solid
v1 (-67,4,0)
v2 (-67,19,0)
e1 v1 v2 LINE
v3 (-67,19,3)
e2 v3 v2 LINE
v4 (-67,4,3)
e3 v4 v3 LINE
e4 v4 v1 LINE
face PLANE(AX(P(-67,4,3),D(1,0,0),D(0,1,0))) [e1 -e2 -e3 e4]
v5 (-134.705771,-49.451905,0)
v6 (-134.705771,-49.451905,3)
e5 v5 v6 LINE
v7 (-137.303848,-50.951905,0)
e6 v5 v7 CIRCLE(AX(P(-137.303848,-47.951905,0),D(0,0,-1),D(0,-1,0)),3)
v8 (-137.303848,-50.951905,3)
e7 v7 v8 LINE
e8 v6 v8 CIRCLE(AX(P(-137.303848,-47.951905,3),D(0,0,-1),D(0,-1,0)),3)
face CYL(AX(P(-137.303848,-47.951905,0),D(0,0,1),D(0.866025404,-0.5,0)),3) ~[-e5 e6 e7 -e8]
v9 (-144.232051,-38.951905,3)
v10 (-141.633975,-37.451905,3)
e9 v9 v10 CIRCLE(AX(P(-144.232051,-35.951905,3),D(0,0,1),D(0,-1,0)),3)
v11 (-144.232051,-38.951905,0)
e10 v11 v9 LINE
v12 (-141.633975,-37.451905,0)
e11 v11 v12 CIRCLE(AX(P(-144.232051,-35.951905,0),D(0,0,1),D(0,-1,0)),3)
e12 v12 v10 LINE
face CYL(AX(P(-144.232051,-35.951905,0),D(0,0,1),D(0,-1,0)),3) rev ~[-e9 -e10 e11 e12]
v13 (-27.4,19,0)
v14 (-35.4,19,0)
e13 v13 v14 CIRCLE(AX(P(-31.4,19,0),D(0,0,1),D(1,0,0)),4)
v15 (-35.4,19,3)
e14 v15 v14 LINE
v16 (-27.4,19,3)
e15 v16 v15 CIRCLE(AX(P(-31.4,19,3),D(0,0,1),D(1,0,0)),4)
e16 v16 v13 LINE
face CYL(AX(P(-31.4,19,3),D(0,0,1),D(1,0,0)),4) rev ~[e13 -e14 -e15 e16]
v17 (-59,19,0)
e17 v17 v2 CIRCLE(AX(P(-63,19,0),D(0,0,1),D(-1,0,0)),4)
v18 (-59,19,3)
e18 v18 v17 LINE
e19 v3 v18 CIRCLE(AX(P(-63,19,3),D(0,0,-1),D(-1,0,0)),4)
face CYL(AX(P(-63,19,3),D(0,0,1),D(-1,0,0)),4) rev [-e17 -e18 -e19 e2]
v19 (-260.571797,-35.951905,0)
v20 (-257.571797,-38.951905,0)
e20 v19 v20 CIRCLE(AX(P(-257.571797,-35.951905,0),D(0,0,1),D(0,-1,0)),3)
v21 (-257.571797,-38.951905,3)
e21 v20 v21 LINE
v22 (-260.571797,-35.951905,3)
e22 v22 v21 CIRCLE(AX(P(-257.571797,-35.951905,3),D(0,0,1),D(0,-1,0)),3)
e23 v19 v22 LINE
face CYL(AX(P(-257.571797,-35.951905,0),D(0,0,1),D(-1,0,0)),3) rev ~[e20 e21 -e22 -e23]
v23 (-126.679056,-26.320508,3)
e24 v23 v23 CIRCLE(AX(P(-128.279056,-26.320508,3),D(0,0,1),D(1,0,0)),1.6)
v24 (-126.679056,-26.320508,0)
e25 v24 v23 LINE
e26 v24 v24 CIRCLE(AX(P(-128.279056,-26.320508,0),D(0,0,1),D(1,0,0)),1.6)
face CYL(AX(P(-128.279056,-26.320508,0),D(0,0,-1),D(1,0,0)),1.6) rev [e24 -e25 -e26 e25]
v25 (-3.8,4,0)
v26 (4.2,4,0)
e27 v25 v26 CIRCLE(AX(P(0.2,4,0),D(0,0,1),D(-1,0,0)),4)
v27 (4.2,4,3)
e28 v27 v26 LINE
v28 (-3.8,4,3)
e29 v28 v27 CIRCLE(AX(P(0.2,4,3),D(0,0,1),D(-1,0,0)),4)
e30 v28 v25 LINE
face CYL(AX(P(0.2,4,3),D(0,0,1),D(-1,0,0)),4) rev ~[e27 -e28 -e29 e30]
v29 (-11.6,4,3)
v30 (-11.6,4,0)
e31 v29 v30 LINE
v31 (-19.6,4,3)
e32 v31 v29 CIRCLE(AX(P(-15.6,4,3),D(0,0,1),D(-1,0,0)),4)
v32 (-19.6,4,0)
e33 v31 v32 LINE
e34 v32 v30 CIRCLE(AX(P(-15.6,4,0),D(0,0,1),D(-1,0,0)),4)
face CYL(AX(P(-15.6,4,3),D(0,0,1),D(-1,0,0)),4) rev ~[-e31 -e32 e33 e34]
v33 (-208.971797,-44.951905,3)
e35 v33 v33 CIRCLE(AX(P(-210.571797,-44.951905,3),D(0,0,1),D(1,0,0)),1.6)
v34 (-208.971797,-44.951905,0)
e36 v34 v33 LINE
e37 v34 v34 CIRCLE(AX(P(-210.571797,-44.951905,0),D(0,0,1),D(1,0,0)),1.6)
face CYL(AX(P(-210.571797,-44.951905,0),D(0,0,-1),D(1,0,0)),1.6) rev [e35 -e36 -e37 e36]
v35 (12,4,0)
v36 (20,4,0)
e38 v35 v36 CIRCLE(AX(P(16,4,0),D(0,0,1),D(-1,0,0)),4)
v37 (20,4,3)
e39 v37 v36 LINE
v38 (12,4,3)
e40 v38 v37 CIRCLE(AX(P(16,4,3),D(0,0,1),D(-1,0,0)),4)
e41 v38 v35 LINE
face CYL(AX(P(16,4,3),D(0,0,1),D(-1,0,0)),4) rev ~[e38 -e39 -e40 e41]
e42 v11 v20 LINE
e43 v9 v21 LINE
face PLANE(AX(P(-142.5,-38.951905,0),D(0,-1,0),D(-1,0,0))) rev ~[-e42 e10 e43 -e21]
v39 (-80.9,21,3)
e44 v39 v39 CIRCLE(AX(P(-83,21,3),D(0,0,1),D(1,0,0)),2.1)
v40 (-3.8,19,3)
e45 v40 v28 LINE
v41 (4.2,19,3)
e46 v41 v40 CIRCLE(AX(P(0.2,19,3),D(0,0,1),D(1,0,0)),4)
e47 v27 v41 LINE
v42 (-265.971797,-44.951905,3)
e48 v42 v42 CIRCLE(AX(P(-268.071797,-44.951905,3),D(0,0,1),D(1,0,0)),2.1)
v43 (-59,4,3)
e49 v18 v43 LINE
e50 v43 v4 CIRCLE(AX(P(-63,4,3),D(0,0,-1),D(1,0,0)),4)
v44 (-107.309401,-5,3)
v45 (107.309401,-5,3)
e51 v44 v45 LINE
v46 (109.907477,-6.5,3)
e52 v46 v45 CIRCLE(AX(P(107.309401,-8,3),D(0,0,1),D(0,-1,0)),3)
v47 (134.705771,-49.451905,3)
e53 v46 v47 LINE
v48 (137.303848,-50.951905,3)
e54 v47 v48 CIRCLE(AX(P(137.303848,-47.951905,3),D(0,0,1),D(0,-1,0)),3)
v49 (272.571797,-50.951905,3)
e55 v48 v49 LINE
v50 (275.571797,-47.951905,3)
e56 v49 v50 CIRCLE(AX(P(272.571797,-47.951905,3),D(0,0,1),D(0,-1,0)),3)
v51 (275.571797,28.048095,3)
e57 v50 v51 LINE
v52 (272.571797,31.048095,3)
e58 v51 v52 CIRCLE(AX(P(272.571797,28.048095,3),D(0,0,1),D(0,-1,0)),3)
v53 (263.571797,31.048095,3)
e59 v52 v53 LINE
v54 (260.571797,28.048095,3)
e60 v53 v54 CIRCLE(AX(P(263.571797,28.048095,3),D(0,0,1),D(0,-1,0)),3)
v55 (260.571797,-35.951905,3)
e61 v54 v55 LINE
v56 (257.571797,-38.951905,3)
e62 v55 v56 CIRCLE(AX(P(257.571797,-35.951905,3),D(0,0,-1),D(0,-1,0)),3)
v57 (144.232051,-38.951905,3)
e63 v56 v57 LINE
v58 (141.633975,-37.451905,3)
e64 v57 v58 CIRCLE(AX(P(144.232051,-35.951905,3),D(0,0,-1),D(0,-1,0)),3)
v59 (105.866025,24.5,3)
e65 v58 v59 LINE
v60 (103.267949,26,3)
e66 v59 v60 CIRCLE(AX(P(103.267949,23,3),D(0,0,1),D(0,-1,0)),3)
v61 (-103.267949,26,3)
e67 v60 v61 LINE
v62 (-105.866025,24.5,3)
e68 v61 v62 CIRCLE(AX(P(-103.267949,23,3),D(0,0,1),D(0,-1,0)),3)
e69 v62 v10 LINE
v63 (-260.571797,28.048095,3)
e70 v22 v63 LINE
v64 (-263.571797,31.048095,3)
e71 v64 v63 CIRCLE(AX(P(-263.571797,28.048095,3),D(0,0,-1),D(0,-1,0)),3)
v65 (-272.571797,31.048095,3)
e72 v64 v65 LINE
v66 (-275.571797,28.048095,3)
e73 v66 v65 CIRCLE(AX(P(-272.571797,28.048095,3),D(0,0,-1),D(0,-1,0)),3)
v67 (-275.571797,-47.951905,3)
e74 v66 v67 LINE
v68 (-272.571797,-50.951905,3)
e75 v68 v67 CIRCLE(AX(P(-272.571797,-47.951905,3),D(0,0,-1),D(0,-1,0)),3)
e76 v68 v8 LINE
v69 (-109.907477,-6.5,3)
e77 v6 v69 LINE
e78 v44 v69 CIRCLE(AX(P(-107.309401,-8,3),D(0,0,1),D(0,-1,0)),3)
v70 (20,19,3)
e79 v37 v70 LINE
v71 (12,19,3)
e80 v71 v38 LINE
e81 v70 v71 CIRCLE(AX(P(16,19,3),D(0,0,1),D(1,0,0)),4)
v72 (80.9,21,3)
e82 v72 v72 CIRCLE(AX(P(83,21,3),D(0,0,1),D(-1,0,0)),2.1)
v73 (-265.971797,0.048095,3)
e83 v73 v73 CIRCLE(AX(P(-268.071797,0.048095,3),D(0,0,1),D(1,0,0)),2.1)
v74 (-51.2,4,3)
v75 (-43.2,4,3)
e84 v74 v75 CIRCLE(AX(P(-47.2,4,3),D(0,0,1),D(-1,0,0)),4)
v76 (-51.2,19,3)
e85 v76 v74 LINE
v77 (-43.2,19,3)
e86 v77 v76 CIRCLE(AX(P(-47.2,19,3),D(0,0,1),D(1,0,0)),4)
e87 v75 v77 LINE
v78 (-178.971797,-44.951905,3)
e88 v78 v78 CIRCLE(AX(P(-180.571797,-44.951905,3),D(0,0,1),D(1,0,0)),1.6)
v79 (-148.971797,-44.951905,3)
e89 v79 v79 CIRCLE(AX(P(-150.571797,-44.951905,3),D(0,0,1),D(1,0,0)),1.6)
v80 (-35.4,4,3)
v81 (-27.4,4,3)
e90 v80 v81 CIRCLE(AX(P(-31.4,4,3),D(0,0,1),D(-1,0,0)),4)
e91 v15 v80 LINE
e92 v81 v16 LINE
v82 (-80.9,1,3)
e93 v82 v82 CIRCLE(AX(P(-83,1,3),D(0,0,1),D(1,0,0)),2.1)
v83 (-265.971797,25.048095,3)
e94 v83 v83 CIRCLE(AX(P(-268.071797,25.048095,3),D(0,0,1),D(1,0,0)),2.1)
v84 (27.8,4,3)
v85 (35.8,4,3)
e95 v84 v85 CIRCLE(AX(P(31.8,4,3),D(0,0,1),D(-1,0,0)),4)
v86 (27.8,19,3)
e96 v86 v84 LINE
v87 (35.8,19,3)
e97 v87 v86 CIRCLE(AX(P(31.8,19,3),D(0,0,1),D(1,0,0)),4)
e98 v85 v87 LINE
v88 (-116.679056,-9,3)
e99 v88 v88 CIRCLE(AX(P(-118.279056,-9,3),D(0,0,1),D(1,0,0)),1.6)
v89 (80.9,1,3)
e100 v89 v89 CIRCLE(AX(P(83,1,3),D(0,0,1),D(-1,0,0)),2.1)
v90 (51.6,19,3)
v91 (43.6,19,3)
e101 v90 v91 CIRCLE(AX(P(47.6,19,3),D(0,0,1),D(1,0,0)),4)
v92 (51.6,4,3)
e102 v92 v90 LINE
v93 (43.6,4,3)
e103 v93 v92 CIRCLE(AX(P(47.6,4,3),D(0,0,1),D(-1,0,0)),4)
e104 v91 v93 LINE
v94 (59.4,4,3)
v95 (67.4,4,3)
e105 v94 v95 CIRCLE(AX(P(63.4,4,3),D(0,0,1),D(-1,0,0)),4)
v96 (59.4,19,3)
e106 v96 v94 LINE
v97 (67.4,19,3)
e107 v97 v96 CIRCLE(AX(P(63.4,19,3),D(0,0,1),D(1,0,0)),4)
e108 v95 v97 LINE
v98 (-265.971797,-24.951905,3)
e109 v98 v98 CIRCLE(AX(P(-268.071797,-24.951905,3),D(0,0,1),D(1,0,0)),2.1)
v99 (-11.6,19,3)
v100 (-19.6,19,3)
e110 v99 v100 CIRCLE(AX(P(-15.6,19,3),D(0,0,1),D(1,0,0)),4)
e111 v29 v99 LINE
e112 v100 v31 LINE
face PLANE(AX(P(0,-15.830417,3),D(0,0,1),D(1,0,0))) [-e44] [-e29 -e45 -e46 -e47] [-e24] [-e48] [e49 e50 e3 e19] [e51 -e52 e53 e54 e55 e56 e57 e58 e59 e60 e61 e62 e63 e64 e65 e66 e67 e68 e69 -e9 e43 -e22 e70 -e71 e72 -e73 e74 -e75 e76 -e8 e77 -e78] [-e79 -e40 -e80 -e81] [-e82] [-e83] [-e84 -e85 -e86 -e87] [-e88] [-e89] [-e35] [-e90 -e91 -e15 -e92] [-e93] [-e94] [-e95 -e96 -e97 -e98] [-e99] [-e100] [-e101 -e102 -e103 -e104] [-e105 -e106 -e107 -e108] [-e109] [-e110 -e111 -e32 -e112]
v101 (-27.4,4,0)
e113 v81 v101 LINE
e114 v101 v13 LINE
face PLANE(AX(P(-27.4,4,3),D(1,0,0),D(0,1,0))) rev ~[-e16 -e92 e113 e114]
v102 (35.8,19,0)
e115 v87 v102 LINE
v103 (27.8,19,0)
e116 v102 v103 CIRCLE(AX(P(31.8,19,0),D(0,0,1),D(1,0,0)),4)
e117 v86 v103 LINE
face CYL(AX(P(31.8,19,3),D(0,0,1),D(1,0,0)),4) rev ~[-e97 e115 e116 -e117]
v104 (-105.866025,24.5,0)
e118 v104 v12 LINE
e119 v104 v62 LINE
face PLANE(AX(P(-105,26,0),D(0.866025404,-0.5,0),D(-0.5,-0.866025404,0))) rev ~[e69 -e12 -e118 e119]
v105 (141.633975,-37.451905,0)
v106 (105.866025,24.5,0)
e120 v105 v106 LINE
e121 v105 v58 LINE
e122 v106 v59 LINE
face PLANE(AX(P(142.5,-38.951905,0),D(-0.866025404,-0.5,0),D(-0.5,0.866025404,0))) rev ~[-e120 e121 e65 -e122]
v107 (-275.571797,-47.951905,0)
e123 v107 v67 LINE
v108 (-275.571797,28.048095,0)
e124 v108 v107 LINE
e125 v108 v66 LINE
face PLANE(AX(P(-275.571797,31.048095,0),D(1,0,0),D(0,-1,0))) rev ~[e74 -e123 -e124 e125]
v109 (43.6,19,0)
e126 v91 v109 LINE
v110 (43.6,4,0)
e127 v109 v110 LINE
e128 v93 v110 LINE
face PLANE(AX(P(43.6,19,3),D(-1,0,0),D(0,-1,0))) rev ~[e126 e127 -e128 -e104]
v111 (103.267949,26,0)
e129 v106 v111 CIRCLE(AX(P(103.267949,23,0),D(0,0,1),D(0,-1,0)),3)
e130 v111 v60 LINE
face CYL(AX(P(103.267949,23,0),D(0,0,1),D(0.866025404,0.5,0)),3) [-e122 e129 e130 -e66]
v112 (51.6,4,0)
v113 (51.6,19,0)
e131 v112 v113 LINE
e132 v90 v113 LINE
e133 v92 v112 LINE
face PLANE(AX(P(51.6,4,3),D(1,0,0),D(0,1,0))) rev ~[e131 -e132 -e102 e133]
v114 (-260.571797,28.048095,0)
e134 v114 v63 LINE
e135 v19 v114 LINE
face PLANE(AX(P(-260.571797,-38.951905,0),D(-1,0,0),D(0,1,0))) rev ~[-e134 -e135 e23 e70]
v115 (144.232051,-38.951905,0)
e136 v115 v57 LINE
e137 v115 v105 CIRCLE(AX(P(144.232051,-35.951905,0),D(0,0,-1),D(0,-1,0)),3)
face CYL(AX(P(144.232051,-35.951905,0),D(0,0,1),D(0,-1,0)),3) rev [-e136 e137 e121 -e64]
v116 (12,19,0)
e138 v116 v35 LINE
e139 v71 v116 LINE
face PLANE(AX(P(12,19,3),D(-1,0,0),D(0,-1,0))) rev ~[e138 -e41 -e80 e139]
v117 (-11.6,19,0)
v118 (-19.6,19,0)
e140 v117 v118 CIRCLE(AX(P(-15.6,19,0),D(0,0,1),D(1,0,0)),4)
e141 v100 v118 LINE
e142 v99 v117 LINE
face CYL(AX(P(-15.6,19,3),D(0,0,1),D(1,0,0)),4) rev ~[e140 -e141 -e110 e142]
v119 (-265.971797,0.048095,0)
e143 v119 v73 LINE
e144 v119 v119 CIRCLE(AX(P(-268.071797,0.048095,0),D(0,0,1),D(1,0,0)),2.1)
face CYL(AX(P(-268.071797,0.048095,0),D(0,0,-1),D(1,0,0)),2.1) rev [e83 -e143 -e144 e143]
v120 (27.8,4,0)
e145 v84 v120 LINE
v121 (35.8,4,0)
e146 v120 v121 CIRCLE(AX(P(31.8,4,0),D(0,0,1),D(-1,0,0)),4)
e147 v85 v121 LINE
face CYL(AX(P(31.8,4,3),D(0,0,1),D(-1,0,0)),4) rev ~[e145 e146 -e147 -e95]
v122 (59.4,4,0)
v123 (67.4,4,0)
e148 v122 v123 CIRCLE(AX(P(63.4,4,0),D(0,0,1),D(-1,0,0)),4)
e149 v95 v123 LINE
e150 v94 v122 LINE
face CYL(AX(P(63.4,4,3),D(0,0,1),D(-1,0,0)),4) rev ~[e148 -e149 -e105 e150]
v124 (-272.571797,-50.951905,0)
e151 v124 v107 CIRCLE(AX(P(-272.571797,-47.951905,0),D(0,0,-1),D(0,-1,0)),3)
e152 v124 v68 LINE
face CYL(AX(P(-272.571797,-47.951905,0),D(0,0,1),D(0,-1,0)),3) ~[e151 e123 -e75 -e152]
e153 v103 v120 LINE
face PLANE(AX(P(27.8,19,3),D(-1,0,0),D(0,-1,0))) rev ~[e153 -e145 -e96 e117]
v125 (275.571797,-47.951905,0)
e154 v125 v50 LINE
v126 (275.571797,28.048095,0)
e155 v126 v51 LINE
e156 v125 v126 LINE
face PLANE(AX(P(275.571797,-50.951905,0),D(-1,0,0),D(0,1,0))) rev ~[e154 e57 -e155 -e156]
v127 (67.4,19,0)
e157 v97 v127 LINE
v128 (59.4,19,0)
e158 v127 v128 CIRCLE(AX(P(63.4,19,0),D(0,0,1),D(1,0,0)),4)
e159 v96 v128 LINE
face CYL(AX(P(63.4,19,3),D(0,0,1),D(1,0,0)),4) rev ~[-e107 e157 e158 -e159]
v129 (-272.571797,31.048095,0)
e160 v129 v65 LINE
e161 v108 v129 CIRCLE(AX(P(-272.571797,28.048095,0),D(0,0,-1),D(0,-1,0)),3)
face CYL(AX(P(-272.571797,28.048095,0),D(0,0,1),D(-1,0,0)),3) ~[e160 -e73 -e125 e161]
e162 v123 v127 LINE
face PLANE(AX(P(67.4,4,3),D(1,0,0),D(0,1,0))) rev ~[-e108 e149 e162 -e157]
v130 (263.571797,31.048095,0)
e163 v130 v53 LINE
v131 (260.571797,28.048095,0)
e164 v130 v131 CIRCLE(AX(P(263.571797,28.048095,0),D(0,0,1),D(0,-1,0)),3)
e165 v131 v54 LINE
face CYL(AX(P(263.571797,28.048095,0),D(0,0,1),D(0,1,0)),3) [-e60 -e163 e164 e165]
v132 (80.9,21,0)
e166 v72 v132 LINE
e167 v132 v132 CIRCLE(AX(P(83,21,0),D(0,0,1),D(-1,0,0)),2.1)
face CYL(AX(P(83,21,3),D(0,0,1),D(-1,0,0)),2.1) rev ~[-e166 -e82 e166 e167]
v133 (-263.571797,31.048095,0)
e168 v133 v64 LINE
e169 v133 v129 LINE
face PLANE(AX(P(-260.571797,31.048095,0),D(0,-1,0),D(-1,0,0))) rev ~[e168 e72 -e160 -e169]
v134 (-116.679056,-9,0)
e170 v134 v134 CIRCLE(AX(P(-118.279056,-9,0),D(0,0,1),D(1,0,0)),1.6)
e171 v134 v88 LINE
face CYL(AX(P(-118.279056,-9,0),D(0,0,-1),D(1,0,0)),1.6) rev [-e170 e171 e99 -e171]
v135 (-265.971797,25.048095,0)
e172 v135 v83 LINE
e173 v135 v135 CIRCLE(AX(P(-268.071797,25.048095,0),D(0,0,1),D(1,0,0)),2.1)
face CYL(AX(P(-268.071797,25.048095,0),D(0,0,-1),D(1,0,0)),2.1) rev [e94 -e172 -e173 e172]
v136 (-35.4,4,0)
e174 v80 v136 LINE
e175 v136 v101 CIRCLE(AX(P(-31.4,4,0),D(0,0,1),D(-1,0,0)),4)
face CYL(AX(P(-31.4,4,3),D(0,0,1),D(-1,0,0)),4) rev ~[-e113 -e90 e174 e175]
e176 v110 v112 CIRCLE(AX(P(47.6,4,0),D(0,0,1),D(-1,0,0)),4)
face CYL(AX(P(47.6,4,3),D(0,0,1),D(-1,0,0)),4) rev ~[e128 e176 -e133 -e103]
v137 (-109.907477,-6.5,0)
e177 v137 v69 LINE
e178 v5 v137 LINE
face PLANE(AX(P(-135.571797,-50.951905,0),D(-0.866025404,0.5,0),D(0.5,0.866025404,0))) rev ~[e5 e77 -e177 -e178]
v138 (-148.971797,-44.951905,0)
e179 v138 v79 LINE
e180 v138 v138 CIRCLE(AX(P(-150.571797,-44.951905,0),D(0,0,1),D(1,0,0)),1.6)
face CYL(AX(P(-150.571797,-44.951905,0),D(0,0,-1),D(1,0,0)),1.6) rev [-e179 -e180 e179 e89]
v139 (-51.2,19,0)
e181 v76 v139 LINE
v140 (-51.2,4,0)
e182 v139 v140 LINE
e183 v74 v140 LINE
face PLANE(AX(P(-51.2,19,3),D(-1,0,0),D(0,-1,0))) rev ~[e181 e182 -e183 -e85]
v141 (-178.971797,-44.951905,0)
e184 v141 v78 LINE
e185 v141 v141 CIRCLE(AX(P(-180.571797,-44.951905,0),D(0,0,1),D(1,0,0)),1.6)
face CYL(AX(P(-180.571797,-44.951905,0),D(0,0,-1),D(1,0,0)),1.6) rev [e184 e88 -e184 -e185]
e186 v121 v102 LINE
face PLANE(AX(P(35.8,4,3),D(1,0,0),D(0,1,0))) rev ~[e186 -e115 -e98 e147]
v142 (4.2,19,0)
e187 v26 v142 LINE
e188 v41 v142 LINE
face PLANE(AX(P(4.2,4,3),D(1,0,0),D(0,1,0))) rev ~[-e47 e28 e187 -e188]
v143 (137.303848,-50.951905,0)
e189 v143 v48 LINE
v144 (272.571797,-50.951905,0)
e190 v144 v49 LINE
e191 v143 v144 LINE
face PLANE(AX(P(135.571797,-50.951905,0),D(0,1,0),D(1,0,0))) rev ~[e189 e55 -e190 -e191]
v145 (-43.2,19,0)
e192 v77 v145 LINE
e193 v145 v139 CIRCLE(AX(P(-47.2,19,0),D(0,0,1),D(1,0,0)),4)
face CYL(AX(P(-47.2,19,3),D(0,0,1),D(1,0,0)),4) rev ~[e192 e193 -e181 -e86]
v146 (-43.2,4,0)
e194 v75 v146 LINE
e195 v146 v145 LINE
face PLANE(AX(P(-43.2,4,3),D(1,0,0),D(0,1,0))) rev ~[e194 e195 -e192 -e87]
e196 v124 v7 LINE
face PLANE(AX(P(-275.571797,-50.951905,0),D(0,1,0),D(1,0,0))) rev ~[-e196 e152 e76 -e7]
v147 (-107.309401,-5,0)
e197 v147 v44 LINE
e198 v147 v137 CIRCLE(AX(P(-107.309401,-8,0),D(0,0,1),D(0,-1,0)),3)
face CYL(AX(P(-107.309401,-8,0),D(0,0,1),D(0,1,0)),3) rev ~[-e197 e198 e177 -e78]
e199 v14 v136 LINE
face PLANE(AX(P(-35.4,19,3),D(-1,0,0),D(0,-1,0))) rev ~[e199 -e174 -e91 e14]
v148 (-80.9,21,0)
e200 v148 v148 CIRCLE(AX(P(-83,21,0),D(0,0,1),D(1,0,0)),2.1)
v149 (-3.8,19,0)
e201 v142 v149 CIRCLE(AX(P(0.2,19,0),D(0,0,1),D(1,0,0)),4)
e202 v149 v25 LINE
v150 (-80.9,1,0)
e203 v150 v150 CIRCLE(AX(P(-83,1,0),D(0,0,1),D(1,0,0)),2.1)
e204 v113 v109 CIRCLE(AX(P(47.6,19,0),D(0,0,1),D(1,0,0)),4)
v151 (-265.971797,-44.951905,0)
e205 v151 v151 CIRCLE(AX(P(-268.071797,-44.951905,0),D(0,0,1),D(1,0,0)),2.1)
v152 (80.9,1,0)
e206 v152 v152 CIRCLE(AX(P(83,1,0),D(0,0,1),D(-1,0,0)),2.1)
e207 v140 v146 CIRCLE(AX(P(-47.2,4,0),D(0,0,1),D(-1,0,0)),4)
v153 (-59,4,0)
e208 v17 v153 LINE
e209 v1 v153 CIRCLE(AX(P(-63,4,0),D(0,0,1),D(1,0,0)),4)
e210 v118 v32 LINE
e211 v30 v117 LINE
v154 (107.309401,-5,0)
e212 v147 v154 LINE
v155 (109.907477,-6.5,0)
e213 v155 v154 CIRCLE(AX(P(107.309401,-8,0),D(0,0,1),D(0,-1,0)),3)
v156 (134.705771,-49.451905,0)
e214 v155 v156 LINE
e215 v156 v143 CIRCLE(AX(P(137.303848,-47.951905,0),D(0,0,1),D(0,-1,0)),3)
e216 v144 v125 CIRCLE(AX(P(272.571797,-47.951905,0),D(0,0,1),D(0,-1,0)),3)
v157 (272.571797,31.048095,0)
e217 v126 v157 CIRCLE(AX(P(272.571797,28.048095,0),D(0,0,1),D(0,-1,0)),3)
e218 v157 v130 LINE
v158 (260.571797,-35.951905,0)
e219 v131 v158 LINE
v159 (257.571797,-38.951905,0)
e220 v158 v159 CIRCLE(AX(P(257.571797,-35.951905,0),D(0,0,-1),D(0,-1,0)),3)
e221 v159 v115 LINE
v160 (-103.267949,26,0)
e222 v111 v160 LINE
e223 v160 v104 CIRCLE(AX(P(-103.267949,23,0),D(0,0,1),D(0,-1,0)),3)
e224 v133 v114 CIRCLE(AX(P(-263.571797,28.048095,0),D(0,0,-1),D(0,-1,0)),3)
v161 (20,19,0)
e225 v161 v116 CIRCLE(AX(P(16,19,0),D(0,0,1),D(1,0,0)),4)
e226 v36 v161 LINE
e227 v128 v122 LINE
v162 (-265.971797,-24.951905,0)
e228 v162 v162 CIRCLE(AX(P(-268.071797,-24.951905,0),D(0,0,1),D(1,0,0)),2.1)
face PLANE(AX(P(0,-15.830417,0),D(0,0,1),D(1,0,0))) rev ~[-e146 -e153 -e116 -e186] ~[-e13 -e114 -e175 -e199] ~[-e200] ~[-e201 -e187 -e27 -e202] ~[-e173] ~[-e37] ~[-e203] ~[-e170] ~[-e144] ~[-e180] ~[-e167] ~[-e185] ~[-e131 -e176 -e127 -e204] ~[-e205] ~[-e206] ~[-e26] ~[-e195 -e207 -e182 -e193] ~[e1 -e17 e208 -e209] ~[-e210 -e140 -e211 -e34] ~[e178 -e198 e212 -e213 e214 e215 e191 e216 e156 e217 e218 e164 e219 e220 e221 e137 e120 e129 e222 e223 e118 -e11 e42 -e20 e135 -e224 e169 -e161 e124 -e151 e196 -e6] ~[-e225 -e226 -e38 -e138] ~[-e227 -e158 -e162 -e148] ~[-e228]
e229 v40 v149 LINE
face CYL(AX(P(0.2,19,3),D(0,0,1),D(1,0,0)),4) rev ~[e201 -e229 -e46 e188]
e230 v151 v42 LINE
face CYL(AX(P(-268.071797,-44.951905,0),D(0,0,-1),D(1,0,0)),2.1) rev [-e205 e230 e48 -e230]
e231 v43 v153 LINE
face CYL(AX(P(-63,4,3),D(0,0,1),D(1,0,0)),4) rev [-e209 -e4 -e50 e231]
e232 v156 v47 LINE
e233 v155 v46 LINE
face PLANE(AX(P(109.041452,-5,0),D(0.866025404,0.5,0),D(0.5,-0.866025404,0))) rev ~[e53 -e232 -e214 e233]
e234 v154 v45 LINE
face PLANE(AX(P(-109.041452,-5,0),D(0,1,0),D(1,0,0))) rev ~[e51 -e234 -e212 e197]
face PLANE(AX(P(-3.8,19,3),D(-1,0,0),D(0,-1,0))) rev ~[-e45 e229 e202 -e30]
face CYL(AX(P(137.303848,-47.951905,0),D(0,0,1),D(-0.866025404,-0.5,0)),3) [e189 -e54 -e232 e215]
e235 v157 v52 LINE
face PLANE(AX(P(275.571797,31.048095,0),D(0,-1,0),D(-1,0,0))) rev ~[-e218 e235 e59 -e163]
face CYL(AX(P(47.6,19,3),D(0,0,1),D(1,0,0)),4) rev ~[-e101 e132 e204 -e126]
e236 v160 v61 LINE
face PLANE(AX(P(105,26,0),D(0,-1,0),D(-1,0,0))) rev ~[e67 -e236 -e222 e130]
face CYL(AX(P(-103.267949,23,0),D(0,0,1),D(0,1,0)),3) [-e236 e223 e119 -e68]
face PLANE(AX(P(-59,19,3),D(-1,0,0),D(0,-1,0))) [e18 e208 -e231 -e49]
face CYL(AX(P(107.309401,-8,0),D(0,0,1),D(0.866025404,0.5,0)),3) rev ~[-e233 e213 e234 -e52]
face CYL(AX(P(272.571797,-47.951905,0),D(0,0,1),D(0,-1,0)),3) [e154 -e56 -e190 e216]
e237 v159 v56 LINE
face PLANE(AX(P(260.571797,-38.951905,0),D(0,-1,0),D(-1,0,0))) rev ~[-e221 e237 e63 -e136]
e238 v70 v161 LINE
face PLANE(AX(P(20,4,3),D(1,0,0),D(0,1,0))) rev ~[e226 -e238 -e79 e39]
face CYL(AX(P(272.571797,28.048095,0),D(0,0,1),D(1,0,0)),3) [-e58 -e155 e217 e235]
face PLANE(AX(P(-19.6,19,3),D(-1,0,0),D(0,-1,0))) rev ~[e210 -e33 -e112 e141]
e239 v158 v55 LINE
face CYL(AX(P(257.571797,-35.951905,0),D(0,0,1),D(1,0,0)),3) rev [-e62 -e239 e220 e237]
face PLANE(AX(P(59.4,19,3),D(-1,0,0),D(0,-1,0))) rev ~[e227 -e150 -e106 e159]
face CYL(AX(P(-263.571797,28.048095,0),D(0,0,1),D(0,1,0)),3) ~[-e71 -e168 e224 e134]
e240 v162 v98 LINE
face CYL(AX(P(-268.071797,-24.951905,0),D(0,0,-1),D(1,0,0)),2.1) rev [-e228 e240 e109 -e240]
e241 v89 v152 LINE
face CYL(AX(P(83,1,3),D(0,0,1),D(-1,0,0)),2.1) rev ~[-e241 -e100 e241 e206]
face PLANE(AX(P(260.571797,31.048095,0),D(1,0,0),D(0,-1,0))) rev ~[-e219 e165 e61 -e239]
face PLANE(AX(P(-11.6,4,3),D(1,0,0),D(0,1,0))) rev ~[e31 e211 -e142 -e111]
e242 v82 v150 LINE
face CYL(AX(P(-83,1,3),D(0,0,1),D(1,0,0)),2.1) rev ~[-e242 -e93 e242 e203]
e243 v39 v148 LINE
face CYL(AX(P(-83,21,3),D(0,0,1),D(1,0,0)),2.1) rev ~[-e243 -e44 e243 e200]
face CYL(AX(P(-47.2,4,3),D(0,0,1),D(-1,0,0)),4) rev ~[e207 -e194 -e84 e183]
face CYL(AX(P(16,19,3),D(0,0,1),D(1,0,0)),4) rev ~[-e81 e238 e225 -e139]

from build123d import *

# Parameters (mm, degrees)
SKETCH_1_R          = 1.6
SKETCH_1_R_2        = 2.1
EXTRUDE_2_DEPTH     = 3
SKETCH_2_R          = 2.1
CUT_EXTRUDE_1_DEPTH = 3
FILLET_1_R          = 3
CUT_EXTRUDE_2_DEPTH = 281.258651654


with BuildPart() as part:
    # 草图1 → 凸台-拉伸2 (new body)
    with BuildSketch(Plane.XY):
        Polygon((20.192307692, -5), (109.041451884, -5), (135.57179677, -50.951905284), (275.57179677, -50.951905284), (275.57179677, 31.048094716), (260.57179677, 31.048094716), (260.57179677, -38.951905284), (142.5, -38.951905284), (105, 26), (-105, 26), (-142.5, -38.951905284), (-260.57179677, -38.951905284), (-260.57179677, 31.048094716), (-275.57179677, 31.048094716), (-275.57179677, -50.951905284), (-135.57179677, -50.951905284), (-109.041451884, -5), (-20.192307692, -5), align=None)
        with Locations((-118.279056191, -9)):
            Circle(SKETCH_1_R, mode=Mode.SUBTRACT)
        with Locations((-128.279056191, -26.320508076)):
            Circle(SKETCH_1_R, mode=Mode.SUBTRACT)
        with Locations((-150.57179677, -44.951905284)):
            Circle(SKETCH_1_R, mode=Mode.SUBTRACT)
        with Locations((-180.57179677, -44.951905284)):
            Circle(SKETCH_1_R, mode=Mode.SUBTRACT)
        with Locations((-210.57179677, -44.951905284)):
            Circle(SKETCH_1_R, mode=Mode.SUBTRACT)
        with Locations((-268.07179677, -44.951905284)):
            Circle(SKETCH_1_R_2, mode=Mode.SUBTRACT)
        with Locations((-268.07179677, -24.951905284)):
            Circle(SKETCH_1_R_2, mode=Mode.SUBTRACT)
        with Locations((-268.07179677, 0.048094716)):
            Circle(SKETCH_1_R_2, mode=Mode.SUBTRACT)
        with Locations((-268.07179677, 25.048094716)):
            Circle(SKETCH_1_R_2, mode=Mode.SUBTRACT)
    extrude(amount=EXTRUDE_2_DEPTH)

    # 草图2 → 切除-拉伸1 (cut)
    with BuildSketch(Plane.XY.offset(3)):
        with Locations((-83, 21)):
            Circle(SKETCH_2_R)
        with Locations((-83, 1)):
            Circle(SKETCH_2_R)
        with Locations(Location((83, 1, 0), (0, 0, 180))):
            Circle(SKETCH_2_R)
        with Locations(Location((83, 21, 0), (0, 0, 180))):
            Circle(SKETCH_2_R)
    extrude(amount=-CUT_EXTRUDE_1_DEPTH, mode=Mode.SUBTRACT)

    # 圆角1
    fillet_1_edges = [part.edges().sort_by_distance(p)[0] for p in [
        (109.041451884, -5, 1.5),
        (-109.041451884, -5, 1.5),
        (135.57179677, -50.951905284, 1.5),
        (-135.57179677, -50.951905284, 1.5),
        (275.57179677, -50.951905284, 1.5),
        (275.57179677, 31.048094716, 1.5),
        (-275.57179677, -50.951905284, 1.5),
        (260.57179677, 31.048094716, 1.5),
        (-275.57179677, 31.048094716, 1.5),
        (260.57179677, -38.951905284, 1.5),
        (-260.57179677, 31.048094716, 1.5),
        (142.5, -38.951905284, 1.5),
        (-260.57179677, -38.951905284, 1.5),
        (105, 26, 1.5),
        (-142.5, -38.951905284, 1.5),
        (-105, 26, 1.5),
    ]]
    fillet(fillet_1_edges, radius=FILLET_1_R)

    # 草图3 → 切除-拉伸2 (cut, through all)
    with BuildSketch(Plane.XY.offset(3)):
        with BuildLine():
            Line((-59, 19), (-59, 4))
            ThreePointArc((-59, 4), (-63, 0), (-67, 4))
            Line((-67, 4), (-67, 19))
            ThreePointArc((-67, 19), (-63, 23), (-59, 19))
        make_face()
        with BuildLine():
            Line((-51.2, 19), (-51.2, 4))
            ThreePointArc((-51.2, 4), (-47.2, 0), (-43.2, 4))
            Line((-43.2, 4), (-43.2, 19))
            ThreePointArc((-43.2, 19), (-47.2, 23), (-51.2, 19))
        make_face()
        with BuildLine():
            Line((-35.4, 19), (-35.4, 4))
            ThreePointArc((-35.4, 4), (-31.4, 0), (-27.4, 4))
            Line((-27.4, 4), (-27.4, 19))
            ThreePointArc((-27.4, 19), (-31.4, 23), (-35.4, 19))
        make_face()
        with BuildLine():
            Line((-19.6, 19), (-19.6, 4))
            ThreePointArc((-19.6, 4), (-15.6, 0), (-11.6, 4))
            Line((-11.6, 4), (-11.6, 19))
            ThreePointArc((-11.6, 19), (-15.6, 23), (-19.6, 19))
        make_face()
        with BuildLine():
            Line((-3.8, 19), (-3.8, 4))
            ThreePointArc((-3.8, 4), (0.2, 0), (4.2, 4))
            Line((4.2, 4), (4.2, 19))
            ThreePointArc((4.2, 19), (0.2, 23), (-3.8, 19))
        make_face()
        with BuildLine():
            Line((12, 19), (12, 4))
            ThreePointArc((12, 4), (16, 0), (20, 4))
            Line((20, 4), (20, 19))
            ThreePointArc((20, 19), (16, 23), (12, 19))
        make_face()
        with BuildLine():
            Line((27.8, 19), (27.8, 4))
            ThreePointArc((27.8, 4), (31.8, 0), (35.8, 4))
            Line((35.8, 4), (35.8, 19))
            ThreePointArc((35.8, 19), (31.8, 23), (27.8, 19))
        make_face()
        with BuildLine():
            Line((43.6, 19), (43.6, 4))
            ThreePointArc((43.6, 4), (47.6, 0), (51.6, 4))
            Line((51.6, 4), (51.6, 19))
            ThreePointArc((51.6, 19), (47.6, 23), (43.6, 19))
        make_face()
        with BuildLine():
            Line((59.4, 19), (59.4, 4))
            ThreePointArc((59.4, 4), (63.4, 0), (67.4, 4))
            Line((67.4, 4), (67.4, 19))
            ThreePointArc((67.4, 19), (63.4, 23), (59.4, 19))
        make_face()
    extrude(amount=-CUT_EXTRUDE_2_DEPTH, mode=Mode.SUBTRACT)


solid = part.part
